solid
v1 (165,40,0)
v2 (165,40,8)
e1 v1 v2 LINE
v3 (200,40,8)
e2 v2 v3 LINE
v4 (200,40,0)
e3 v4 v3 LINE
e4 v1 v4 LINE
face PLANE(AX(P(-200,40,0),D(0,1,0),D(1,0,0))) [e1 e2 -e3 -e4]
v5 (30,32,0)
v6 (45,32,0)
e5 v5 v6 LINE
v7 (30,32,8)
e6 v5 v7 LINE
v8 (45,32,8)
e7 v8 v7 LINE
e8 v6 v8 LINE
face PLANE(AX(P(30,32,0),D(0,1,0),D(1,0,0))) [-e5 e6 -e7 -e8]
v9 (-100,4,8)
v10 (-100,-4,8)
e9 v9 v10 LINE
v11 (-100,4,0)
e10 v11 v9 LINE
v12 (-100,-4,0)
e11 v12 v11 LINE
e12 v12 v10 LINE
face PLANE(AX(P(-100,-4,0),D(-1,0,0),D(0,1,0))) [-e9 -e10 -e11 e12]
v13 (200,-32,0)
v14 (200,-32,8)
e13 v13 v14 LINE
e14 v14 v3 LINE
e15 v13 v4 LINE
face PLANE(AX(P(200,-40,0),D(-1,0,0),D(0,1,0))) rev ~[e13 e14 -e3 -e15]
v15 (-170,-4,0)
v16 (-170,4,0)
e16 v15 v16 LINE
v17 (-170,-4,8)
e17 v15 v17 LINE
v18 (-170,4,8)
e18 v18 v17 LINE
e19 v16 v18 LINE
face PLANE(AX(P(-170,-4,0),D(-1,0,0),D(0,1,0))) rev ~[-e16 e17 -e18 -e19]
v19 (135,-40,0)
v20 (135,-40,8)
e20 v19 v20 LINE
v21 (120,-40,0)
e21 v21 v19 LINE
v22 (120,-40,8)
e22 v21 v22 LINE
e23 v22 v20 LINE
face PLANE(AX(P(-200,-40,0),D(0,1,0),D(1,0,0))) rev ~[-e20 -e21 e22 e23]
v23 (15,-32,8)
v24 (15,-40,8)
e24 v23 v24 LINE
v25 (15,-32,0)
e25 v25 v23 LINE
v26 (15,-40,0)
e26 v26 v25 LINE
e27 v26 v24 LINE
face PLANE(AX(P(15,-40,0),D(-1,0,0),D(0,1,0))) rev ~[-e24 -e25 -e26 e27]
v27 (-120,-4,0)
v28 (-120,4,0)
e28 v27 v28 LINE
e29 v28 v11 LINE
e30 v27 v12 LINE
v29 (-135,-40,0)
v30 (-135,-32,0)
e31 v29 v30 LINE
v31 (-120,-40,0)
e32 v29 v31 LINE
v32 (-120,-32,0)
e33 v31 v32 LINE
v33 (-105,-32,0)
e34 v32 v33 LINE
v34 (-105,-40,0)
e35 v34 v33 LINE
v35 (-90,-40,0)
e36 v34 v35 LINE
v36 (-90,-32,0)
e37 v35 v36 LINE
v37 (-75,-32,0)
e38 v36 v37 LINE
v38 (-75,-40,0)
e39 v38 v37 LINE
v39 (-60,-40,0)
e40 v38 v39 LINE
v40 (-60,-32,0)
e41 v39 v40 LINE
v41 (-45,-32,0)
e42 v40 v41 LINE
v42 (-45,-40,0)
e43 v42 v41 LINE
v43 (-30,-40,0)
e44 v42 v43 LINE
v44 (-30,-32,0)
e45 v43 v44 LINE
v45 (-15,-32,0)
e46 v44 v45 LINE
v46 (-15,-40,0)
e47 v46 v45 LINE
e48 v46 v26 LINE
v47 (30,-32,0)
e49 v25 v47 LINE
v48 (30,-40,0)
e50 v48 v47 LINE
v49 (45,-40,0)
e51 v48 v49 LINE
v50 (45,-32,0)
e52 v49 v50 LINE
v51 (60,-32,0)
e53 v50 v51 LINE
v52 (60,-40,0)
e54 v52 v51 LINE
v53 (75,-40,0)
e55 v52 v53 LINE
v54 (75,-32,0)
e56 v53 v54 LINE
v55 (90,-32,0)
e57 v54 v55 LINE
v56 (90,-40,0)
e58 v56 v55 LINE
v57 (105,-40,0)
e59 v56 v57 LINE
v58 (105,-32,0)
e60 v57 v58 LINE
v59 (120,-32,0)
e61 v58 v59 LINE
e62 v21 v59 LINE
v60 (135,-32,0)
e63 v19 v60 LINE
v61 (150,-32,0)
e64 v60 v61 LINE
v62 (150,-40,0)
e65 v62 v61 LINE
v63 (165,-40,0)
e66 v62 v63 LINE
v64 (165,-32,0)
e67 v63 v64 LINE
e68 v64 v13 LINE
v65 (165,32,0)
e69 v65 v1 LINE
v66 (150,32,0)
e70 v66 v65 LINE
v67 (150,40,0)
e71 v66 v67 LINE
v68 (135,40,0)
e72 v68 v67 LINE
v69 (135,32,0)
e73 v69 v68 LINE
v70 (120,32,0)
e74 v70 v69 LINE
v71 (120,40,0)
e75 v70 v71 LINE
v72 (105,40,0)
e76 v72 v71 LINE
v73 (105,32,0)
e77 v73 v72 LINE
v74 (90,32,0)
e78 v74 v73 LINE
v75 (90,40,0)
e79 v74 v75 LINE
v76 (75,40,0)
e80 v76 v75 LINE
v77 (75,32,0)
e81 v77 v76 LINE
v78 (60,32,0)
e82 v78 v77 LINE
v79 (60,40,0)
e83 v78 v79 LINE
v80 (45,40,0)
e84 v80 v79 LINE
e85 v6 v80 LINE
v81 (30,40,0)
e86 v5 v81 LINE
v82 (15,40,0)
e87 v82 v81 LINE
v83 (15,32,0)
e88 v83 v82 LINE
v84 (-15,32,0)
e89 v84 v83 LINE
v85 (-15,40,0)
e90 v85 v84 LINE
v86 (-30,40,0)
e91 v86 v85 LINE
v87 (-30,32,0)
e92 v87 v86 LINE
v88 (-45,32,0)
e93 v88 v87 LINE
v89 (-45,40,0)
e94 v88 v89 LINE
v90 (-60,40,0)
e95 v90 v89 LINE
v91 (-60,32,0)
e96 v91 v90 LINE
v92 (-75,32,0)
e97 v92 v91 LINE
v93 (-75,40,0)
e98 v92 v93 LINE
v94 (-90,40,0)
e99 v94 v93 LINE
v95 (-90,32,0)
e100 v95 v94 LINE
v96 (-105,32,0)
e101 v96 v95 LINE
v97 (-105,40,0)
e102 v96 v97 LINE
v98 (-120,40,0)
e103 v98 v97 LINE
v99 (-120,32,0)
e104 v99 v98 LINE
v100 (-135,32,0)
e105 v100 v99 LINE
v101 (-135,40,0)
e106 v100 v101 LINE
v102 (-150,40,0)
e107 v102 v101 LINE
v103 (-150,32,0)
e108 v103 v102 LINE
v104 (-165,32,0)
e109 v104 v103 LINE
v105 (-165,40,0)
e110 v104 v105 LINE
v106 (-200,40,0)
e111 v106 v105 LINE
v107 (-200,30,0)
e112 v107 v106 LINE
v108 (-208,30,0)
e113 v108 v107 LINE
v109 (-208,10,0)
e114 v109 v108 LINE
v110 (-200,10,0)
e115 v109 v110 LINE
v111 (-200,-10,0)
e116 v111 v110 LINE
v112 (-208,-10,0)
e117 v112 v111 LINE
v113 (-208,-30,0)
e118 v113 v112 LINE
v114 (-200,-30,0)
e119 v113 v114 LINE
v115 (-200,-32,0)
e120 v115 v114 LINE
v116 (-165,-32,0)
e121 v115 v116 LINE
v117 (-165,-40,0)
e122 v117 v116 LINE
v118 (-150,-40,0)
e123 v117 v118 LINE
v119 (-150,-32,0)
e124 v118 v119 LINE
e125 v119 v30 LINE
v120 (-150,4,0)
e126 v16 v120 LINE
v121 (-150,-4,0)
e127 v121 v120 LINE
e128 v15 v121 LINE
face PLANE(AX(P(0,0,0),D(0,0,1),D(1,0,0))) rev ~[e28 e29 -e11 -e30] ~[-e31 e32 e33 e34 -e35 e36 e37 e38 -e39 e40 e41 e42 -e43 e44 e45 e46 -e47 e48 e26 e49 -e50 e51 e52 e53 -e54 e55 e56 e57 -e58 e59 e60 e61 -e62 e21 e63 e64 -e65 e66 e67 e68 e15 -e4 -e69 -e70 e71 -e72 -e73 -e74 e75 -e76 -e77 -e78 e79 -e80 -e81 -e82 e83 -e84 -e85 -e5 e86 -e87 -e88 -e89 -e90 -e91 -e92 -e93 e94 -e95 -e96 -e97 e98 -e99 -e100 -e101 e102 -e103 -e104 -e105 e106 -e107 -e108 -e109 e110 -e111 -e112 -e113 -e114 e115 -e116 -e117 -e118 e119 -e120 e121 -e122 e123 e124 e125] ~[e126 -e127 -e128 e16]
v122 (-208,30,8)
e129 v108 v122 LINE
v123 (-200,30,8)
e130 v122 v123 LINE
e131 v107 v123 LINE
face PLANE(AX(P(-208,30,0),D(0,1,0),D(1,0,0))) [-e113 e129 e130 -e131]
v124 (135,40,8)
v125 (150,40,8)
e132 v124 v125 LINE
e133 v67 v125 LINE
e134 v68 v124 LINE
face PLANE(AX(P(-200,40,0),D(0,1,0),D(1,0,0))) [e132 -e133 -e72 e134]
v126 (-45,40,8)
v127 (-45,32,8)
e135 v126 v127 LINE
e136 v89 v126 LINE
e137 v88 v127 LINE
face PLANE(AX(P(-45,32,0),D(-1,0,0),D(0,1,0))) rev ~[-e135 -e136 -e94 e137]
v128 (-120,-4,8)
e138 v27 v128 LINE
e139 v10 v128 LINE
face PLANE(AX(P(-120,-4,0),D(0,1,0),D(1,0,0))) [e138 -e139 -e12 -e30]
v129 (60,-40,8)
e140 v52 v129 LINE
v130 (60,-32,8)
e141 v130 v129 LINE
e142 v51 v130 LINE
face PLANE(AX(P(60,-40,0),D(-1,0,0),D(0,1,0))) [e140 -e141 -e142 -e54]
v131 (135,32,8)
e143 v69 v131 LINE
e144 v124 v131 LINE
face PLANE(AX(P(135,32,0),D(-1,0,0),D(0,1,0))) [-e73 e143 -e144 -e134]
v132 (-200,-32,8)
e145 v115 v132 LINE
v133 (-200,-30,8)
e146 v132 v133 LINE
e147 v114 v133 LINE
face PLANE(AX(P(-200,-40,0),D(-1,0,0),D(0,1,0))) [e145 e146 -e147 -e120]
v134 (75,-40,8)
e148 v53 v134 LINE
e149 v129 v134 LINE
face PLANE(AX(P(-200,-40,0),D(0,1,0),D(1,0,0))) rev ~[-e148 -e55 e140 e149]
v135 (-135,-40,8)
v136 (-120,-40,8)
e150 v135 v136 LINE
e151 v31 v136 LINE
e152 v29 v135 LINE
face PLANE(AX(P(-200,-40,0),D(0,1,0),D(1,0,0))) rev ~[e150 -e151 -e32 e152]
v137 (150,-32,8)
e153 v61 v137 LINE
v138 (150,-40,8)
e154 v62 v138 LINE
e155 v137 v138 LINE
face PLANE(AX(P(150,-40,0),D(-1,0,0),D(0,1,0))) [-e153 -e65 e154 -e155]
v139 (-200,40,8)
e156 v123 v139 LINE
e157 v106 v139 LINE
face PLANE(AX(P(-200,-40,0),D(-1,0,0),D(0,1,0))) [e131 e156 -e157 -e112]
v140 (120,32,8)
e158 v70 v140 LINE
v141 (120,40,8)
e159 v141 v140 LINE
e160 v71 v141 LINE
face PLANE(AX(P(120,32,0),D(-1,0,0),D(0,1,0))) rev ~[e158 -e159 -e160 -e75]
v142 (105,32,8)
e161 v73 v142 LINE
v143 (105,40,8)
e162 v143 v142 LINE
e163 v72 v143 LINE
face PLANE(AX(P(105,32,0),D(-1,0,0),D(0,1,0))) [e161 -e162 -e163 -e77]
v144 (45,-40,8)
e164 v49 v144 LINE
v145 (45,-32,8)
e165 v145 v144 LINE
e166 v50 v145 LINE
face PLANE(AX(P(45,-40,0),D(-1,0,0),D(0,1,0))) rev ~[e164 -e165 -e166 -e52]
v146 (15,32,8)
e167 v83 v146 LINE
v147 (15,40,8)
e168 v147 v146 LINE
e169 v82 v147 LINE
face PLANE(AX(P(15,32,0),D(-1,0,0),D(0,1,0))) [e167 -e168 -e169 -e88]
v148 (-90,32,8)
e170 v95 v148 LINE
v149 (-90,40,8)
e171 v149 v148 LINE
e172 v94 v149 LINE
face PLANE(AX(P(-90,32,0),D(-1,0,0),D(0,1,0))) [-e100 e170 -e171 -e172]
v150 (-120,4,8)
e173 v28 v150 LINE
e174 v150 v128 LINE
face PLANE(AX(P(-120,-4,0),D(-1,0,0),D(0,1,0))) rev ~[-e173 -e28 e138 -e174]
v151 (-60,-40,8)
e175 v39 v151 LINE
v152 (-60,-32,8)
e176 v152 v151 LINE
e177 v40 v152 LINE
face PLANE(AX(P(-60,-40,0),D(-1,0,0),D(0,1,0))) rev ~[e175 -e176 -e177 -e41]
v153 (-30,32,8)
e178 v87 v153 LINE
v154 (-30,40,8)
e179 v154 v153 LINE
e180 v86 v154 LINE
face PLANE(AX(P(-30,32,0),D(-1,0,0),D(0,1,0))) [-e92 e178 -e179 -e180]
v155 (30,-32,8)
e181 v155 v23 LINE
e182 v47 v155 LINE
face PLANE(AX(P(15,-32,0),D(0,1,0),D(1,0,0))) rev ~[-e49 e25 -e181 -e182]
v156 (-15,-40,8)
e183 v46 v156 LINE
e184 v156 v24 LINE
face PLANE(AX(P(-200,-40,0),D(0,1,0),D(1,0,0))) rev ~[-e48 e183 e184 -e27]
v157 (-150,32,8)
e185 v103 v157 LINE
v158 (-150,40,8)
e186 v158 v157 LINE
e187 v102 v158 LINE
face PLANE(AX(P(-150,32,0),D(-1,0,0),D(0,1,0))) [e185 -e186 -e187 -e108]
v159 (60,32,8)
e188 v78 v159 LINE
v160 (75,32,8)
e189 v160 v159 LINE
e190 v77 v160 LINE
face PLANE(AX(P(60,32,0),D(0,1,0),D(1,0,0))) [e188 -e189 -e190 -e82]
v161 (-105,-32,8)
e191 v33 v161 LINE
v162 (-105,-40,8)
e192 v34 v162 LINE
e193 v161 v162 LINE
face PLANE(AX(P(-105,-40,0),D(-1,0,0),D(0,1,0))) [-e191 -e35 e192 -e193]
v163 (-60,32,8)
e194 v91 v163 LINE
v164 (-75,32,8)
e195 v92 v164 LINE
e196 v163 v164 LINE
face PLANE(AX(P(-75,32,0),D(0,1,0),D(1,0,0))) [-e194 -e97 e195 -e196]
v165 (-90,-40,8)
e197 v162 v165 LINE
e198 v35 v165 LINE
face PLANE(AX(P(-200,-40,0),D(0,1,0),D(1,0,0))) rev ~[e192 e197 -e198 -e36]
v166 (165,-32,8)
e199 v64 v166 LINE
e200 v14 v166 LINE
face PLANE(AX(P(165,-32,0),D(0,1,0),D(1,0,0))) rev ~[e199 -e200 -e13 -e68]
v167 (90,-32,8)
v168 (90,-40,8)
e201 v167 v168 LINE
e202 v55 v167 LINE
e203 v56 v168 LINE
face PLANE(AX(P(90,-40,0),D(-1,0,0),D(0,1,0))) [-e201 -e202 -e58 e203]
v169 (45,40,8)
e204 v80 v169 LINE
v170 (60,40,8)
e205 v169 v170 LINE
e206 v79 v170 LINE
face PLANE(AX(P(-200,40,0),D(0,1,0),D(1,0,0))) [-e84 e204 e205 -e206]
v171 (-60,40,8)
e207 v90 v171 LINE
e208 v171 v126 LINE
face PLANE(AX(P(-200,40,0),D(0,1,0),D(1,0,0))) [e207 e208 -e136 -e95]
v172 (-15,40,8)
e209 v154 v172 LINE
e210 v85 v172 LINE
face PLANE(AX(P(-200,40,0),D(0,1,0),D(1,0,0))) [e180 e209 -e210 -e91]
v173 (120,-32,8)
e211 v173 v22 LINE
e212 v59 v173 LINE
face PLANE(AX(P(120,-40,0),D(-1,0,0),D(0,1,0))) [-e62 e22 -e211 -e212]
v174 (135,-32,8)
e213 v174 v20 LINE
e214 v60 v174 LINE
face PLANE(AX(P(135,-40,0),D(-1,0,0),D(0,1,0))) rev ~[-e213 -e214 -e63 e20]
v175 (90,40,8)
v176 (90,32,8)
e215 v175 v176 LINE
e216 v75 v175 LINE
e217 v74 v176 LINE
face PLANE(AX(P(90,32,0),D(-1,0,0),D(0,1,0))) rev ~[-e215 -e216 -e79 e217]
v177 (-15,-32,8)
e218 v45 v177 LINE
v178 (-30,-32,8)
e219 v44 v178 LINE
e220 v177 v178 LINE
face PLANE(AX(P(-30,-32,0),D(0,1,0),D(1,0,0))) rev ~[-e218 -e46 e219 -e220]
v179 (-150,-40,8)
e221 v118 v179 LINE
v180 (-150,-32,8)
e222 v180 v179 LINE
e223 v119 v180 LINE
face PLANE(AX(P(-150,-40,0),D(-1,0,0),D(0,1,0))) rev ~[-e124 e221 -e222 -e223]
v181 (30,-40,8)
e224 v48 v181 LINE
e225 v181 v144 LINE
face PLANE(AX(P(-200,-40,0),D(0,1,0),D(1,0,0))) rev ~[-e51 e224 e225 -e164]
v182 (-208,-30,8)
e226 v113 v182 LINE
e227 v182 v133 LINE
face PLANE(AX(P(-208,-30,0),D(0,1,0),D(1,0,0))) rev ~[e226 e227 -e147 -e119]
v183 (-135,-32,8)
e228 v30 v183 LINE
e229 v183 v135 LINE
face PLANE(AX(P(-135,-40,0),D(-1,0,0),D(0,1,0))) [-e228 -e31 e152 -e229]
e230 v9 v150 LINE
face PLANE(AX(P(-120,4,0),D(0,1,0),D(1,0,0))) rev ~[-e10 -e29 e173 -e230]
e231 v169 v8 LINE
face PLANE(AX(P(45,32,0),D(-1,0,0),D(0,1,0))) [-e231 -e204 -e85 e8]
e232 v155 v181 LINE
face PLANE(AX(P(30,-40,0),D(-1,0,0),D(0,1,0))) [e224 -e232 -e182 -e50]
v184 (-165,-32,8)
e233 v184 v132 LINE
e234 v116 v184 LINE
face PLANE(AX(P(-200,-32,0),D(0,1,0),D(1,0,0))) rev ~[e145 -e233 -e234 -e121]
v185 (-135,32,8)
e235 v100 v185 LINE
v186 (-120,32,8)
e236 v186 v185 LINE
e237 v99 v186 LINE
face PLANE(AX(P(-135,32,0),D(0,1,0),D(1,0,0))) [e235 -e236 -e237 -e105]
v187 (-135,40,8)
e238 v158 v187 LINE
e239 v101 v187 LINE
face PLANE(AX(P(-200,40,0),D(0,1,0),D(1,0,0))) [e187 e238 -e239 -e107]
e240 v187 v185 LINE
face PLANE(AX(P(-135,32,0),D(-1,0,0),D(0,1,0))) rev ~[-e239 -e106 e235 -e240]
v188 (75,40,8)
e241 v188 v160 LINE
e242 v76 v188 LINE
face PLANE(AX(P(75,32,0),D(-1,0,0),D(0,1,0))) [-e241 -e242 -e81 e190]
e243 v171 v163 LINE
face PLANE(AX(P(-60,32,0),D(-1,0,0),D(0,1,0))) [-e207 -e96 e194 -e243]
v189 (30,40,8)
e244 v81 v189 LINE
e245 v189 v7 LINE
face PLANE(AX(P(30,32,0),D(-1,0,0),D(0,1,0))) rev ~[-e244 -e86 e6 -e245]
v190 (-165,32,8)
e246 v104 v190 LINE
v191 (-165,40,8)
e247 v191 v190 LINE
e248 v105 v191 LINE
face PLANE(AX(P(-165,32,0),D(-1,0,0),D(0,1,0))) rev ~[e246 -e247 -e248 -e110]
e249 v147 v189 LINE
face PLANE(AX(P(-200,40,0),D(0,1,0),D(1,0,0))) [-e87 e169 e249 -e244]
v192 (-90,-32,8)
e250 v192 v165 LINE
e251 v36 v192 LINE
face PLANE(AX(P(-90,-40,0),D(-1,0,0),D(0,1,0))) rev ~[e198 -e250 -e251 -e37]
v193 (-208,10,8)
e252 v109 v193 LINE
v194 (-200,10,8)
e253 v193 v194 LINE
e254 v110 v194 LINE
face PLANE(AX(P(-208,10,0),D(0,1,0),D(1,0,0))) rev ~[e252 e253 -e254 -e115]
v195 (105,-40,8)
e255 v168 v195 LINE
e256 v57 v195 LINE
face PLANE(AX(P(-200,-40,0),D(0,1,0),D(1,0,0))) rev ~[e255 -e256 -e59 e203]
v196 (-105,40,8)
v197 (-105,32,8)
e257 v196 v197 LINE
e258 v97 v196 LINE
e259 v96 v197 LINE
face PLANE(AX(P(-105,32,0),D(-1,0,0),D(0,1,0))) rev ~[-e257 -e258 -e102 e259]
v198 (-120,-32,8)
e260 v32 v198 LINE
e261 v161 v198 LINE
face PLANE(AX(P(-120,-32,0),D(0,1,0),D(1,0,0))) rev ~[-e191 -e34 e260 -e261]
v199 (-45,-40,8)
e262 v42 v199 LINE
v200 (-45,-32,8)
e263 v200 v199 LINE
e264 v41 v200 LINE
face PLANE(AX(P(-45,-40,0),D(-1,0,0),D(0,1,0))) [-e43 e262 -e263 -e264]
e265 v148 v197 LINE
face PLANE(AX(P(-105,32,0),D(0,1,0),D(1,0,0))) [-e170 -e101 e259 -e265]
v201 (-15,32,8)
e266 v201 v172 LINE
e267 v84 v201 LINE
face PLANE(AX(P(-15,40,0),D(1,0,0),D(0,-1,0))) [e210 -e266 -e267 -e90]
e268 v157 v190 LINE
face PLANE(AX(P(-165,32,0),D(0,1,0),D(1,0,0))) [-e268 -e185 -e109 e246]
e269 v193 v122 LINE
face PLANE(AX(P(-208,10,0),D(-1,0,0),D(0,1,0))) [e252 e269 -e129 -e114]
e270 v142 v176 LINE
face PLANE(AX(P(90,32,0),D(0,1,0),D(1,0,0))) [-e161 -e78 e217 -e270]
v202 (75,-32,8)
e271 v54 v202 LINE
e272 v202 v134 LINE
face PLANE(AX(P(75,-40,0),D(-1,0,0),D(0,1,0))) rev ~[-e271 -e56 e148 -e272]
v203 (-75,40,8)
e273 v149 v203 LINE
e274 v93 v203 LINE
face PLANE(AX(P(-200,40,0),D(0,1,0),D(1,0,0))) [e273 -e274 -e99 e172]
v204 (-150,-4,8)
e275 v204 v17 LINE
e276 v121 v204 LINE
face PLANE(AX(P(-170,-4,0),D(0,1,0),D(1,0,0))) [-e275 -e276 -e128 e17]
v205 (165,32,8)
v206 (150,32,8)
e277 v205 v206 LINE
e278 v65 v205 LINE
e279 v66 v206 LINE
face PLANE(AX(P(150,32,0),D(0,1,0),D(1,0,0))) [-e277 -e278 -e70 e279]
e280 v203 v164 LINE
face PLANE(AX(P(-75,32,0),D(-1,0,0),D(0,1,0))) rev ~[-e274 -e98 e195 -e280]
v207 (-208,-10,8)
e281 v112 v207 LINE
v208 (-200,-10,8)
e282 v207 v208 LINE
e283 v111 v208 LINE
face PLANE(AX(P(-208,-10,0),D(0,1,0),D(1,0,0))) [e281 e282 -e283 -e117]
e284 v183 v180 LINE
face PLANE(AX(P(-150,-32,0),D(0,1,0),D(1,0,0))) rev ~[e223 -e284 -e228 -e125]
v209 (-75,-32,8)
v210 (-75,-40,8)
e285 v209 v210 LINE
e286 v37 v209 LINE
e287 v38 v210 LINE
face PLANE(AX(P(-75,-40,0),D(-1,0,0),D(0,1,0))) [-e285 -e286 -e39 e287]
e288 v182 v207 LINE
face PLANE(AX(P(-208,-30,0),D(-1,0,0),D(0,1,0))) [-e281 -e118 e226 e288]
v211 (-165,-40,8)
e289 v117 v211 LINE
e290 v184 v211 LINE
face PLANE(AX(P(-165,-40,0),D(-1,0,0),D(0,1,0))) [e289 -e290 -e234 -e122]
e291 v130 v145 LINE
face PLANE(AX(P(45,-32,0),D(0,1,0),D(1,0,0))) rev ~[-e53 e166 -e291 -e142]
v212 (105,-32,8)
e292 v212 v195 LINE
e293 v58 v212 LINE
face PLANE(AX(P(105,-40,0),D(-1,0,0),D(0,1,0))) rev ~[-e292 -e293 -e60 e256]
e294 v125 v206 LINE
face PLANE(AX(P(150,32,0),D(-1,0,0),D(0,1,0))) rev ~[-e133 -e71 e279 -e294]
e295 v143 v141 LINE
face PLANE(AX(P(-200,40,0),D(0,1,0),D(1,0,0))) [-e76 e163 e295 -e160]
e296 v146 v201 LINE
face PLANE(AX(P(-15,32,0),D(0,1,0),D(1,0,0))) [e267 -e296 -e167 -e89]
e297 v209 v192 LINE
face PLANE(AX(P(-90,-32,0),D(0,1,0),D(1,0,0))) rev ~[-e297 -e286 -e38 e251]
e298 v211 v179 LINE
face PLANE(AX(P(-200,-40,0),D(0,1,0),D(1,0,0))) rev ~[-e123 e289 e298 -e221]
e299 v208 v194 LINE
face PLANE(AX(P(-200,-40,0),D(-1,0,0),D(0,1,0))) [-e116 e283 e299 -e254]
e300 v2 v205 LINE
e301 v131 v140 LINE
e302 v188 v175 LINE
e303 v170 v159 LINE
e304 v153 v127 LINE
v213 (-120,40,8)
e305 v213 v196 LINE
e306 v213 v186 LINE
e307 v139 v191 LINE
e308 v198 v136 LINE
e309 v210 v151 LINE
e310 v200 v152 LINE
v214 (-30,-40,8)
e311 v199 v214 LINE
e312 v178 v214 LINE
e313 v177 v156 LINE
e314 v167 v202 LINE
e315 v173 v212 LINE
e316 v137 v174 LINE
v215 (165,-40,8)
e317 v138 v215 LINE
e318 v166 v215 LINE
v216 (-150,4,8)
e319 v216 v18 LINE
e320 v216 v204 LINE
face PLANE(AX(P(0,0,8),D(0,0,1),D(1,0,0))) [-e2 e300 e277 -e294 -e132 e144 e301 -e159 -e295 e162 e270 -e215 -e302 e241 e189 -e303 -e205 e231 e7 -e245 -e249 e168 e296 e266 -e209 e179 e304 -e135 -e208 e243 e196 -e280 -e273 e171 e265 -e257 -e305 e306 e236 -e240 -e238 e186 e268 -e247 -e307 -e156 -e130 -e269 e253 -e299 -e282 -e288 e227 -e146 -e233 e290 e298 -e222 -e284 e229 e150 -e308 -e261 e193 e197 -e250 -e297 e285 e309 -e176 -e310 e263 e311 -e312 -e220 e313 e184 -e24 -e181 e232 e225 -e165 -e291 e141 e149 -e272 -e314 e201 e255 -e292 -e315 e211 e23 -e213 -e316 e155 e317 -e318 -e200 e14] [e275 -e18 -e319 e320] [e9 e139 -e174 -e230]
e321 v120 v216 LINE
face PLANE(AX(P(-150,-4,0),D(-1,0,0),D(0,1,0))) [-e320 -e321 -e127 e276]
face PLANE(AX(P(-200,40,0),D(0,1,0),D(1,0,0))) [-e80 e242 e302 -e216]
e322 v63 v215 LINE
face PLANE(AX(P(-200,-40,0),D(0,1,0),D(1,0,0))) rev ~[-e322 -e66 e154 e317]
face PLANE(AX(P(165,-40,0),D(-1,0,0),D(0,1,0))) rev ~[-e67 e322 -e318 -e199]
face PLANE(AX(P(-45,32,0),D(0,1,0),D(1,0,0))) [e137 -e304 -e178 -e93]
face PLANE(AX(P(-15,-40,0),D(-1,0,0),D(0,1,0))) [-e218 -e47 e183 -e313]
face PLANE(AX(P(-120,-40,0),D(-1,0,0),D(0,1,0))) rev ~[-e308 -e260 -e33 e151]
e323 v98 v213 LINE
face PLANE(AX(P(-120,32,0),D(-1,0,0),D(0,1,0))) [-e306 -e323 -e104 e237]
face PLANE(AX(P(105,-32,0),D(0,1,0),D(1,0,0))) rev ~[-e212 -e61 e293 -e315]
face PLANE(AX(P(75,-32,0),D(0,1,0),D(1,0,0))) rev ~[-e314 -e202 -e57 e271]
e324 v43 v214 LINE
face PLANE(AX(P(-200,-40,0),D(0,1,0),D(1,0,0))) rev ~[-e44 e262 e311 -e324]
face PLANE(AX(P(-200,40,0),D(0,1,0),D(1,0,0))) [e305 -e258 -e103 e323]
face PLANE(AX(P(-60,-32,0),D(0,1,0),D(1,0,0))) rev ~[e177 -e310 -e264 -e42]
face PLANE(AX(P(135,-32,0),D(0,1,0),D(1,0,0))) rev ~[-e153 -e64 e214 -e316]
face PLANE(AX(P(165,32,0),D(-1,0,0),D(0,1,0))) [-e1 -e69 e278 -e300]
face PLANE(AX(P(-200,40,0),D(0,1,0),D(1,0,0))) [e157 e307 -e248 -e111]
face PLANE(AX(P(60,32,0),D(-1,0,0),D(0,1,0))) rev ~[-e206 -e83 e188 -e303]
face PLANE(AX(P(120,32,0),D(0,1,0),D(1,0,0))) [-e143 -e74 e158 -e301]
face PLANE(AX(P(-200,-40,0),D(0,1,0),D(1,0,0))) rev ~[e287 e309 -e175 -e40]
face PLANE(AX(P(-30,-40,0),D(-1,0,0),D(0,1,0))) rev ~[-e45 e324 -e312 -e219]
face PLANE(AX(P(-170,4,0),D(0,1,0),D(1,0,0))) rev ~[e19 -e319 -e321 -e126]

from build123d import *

# Parameters (mm, degrees)
ESQUISSE1_W             = 400
ESQUISSE1_H             = 80
BOSS_EXTRU_1_DEPTH      = 8
ESQUISSE2_W             = 8
ESQUISSE2_H             = 20
BOSS_EXTRU_2_DEPTH      = 8
ESQUISSE4_W             = 15
ESQUISSE4_H             = 8
ENL_V_MAT_EXTRU_1_DEPTH = 212.962260792
ESQUISSE5_W             = 15
ESQUISSE5_H             = 8
ESQUISSE5_W_2           = 35
ENL_V_MAT_EXTRU_2_DEPTH = 212.962260792
ESQUISSE6_W             = 20
ESQUISSE6_H             = 8
ENL_V_MAT_EXTRU_3_DEPTH = 212.962260792


with BuildPart() as part:
    # Esquisse1 → Boss.-Extru.1 (new body)
    with BuildSketch(Plane.XY):
        Rectangle(ESQUISSE1_W, ESQUISSE1_H)
    extrude(amount=BOSS_EXTRU_1_DEPTH)

    # Esquisse2 → Boss.-Extru.2 (add)
    with BuildSketch(Plane.XY):
        with Locations((-204, 20)):
            Rectangle(ESQUISSE2_W, ESQUISSE2_H)
        with Locations((-204, -20)):
            Rectangle(ESQUISSE2_W, ESQUISSE2_H)
    extrude(amount=BOSS_EXTRU_2_DEPTH)

    # Esquisse4 → Enlèv. mat.-Extru.1 (cut, through all)
    with BuildSketch(Plane.XY):
        Polygon((0, 40), (-15, 40), (-15, 32), (0, 32), (15, 32), (15, 40), align=None)
        with Locations((-37.5, 36)):
            Rectangle(ESQUISSE4_W, ESQUISSE4_H)
        with Locations((-67.5, 36)):
            Rectangle(ESQUISSE4_W, ESQUISSE4_H)
        with Locations((-97.5, 36)):
            Rectangle(ESQUISSE4_W, ESQUISSE4_H)
        with Locations((-127.5, 36)):
            Rectangle(ESQUISSE4_W, ESQUISSE4_H)
        with Locations((-157.5, 36)):
            Rectangle(ESQUISSE4_W, ESQUISSE4_H)
        with Locations((37.5, 36)):
            Rectangle(ESQUISSE4_W, ESQUISSE4_H)
        with Locations((67.5, 36)):
            Rectangle(ESQUISSE4_W, ESQUISSE4_H)
        with Locations((97.5, 36)):
            Rectangle(ESQUISSE4_W, ESQUISSE4_H)
        with Locations((127.5, 36)):
            Rectangle(ESQUISSE4_W, ESQUISSE4_H)
        with Locations((157.5, 36)):
            Rectangle(ESQUISSE4_W, ESQUISSE4_H)
    extrude(amount=ENL_V_MAT_EXTRU_1_DEPTH, mode=Mode.SUBTRACT)

    # Esquisse5 → Enlèv. mat.-Extru.2 (cut, through all)
    with BuildSketch(Plane.XY):
        with Locations((-22.5, -36)):
            Rectangle(ESQUISSE5_W, ESQUISSE5_H)
        with Locations((-52.5, -36)):
            Rectangle(ESQUISSE5_W, ESQUISSE5_H)
        with Locations((-82.5, -36)):
            Rectangle(ESQUISSE5_W, ESQUISSE5_H)
        with Locations((-112.5, -36)):
            Rectangle(ESQUISSE5_W, ESQUISSE5_H)
        with Locations((-142.5, -36)):
            Rectangle(ESQUISSE5_W, ESQUISSE5_H)
        with Locations((-182.5, -36)):
            Rectangle(ESQUISSE5_W_2, ESQUISSE5_H)
        with Locations((22.5, -36)):
            Rectangle(ESQUISSE5_W, ESQUISSE5_H)
        with Locations((52.5, -36)):
            Rectangle(ESQUISSE5_W, ESQUISSE5_H)
        with Locations((82.5, -36)):
            Rectangle(ESQUISSE5_W, ESQUISSE5_H)
        with Locations((112.5, -36)):
            Rectangle(ESQUISSE5_W, ESQUISSE5_H)
        with Locations((142.5, -36)):
            Rectangle(ESQUISSE5_W, ESQUISSE5_H)
        with Locations((182.5, -36)):
            Rectangle(ESQUISSE5_W_2, ESQUISSE5_H)
    extrude(amount=ENL_V_MAT_EXTRU_2_DEPTH, mode=Mode.SUBTRACT)

    # Esquisse6 → Enlèv. mat.-Extru.3 (cut, through all)
    with BuildSketch(Plane.XY):
        with Locations((-160, 0)):
            Rectangle(ESQUISSE6_W, ESQUISSE6_H)
        with Locations((-110, 0)):
            Rectangle(ESQUISSE6_W, ESQUISSE6_H)
    extrude(amount=ENL_V_MAT_EXTRU_3_DEPTH, mode=Mode.SUBTRACT)


solid = part.part
